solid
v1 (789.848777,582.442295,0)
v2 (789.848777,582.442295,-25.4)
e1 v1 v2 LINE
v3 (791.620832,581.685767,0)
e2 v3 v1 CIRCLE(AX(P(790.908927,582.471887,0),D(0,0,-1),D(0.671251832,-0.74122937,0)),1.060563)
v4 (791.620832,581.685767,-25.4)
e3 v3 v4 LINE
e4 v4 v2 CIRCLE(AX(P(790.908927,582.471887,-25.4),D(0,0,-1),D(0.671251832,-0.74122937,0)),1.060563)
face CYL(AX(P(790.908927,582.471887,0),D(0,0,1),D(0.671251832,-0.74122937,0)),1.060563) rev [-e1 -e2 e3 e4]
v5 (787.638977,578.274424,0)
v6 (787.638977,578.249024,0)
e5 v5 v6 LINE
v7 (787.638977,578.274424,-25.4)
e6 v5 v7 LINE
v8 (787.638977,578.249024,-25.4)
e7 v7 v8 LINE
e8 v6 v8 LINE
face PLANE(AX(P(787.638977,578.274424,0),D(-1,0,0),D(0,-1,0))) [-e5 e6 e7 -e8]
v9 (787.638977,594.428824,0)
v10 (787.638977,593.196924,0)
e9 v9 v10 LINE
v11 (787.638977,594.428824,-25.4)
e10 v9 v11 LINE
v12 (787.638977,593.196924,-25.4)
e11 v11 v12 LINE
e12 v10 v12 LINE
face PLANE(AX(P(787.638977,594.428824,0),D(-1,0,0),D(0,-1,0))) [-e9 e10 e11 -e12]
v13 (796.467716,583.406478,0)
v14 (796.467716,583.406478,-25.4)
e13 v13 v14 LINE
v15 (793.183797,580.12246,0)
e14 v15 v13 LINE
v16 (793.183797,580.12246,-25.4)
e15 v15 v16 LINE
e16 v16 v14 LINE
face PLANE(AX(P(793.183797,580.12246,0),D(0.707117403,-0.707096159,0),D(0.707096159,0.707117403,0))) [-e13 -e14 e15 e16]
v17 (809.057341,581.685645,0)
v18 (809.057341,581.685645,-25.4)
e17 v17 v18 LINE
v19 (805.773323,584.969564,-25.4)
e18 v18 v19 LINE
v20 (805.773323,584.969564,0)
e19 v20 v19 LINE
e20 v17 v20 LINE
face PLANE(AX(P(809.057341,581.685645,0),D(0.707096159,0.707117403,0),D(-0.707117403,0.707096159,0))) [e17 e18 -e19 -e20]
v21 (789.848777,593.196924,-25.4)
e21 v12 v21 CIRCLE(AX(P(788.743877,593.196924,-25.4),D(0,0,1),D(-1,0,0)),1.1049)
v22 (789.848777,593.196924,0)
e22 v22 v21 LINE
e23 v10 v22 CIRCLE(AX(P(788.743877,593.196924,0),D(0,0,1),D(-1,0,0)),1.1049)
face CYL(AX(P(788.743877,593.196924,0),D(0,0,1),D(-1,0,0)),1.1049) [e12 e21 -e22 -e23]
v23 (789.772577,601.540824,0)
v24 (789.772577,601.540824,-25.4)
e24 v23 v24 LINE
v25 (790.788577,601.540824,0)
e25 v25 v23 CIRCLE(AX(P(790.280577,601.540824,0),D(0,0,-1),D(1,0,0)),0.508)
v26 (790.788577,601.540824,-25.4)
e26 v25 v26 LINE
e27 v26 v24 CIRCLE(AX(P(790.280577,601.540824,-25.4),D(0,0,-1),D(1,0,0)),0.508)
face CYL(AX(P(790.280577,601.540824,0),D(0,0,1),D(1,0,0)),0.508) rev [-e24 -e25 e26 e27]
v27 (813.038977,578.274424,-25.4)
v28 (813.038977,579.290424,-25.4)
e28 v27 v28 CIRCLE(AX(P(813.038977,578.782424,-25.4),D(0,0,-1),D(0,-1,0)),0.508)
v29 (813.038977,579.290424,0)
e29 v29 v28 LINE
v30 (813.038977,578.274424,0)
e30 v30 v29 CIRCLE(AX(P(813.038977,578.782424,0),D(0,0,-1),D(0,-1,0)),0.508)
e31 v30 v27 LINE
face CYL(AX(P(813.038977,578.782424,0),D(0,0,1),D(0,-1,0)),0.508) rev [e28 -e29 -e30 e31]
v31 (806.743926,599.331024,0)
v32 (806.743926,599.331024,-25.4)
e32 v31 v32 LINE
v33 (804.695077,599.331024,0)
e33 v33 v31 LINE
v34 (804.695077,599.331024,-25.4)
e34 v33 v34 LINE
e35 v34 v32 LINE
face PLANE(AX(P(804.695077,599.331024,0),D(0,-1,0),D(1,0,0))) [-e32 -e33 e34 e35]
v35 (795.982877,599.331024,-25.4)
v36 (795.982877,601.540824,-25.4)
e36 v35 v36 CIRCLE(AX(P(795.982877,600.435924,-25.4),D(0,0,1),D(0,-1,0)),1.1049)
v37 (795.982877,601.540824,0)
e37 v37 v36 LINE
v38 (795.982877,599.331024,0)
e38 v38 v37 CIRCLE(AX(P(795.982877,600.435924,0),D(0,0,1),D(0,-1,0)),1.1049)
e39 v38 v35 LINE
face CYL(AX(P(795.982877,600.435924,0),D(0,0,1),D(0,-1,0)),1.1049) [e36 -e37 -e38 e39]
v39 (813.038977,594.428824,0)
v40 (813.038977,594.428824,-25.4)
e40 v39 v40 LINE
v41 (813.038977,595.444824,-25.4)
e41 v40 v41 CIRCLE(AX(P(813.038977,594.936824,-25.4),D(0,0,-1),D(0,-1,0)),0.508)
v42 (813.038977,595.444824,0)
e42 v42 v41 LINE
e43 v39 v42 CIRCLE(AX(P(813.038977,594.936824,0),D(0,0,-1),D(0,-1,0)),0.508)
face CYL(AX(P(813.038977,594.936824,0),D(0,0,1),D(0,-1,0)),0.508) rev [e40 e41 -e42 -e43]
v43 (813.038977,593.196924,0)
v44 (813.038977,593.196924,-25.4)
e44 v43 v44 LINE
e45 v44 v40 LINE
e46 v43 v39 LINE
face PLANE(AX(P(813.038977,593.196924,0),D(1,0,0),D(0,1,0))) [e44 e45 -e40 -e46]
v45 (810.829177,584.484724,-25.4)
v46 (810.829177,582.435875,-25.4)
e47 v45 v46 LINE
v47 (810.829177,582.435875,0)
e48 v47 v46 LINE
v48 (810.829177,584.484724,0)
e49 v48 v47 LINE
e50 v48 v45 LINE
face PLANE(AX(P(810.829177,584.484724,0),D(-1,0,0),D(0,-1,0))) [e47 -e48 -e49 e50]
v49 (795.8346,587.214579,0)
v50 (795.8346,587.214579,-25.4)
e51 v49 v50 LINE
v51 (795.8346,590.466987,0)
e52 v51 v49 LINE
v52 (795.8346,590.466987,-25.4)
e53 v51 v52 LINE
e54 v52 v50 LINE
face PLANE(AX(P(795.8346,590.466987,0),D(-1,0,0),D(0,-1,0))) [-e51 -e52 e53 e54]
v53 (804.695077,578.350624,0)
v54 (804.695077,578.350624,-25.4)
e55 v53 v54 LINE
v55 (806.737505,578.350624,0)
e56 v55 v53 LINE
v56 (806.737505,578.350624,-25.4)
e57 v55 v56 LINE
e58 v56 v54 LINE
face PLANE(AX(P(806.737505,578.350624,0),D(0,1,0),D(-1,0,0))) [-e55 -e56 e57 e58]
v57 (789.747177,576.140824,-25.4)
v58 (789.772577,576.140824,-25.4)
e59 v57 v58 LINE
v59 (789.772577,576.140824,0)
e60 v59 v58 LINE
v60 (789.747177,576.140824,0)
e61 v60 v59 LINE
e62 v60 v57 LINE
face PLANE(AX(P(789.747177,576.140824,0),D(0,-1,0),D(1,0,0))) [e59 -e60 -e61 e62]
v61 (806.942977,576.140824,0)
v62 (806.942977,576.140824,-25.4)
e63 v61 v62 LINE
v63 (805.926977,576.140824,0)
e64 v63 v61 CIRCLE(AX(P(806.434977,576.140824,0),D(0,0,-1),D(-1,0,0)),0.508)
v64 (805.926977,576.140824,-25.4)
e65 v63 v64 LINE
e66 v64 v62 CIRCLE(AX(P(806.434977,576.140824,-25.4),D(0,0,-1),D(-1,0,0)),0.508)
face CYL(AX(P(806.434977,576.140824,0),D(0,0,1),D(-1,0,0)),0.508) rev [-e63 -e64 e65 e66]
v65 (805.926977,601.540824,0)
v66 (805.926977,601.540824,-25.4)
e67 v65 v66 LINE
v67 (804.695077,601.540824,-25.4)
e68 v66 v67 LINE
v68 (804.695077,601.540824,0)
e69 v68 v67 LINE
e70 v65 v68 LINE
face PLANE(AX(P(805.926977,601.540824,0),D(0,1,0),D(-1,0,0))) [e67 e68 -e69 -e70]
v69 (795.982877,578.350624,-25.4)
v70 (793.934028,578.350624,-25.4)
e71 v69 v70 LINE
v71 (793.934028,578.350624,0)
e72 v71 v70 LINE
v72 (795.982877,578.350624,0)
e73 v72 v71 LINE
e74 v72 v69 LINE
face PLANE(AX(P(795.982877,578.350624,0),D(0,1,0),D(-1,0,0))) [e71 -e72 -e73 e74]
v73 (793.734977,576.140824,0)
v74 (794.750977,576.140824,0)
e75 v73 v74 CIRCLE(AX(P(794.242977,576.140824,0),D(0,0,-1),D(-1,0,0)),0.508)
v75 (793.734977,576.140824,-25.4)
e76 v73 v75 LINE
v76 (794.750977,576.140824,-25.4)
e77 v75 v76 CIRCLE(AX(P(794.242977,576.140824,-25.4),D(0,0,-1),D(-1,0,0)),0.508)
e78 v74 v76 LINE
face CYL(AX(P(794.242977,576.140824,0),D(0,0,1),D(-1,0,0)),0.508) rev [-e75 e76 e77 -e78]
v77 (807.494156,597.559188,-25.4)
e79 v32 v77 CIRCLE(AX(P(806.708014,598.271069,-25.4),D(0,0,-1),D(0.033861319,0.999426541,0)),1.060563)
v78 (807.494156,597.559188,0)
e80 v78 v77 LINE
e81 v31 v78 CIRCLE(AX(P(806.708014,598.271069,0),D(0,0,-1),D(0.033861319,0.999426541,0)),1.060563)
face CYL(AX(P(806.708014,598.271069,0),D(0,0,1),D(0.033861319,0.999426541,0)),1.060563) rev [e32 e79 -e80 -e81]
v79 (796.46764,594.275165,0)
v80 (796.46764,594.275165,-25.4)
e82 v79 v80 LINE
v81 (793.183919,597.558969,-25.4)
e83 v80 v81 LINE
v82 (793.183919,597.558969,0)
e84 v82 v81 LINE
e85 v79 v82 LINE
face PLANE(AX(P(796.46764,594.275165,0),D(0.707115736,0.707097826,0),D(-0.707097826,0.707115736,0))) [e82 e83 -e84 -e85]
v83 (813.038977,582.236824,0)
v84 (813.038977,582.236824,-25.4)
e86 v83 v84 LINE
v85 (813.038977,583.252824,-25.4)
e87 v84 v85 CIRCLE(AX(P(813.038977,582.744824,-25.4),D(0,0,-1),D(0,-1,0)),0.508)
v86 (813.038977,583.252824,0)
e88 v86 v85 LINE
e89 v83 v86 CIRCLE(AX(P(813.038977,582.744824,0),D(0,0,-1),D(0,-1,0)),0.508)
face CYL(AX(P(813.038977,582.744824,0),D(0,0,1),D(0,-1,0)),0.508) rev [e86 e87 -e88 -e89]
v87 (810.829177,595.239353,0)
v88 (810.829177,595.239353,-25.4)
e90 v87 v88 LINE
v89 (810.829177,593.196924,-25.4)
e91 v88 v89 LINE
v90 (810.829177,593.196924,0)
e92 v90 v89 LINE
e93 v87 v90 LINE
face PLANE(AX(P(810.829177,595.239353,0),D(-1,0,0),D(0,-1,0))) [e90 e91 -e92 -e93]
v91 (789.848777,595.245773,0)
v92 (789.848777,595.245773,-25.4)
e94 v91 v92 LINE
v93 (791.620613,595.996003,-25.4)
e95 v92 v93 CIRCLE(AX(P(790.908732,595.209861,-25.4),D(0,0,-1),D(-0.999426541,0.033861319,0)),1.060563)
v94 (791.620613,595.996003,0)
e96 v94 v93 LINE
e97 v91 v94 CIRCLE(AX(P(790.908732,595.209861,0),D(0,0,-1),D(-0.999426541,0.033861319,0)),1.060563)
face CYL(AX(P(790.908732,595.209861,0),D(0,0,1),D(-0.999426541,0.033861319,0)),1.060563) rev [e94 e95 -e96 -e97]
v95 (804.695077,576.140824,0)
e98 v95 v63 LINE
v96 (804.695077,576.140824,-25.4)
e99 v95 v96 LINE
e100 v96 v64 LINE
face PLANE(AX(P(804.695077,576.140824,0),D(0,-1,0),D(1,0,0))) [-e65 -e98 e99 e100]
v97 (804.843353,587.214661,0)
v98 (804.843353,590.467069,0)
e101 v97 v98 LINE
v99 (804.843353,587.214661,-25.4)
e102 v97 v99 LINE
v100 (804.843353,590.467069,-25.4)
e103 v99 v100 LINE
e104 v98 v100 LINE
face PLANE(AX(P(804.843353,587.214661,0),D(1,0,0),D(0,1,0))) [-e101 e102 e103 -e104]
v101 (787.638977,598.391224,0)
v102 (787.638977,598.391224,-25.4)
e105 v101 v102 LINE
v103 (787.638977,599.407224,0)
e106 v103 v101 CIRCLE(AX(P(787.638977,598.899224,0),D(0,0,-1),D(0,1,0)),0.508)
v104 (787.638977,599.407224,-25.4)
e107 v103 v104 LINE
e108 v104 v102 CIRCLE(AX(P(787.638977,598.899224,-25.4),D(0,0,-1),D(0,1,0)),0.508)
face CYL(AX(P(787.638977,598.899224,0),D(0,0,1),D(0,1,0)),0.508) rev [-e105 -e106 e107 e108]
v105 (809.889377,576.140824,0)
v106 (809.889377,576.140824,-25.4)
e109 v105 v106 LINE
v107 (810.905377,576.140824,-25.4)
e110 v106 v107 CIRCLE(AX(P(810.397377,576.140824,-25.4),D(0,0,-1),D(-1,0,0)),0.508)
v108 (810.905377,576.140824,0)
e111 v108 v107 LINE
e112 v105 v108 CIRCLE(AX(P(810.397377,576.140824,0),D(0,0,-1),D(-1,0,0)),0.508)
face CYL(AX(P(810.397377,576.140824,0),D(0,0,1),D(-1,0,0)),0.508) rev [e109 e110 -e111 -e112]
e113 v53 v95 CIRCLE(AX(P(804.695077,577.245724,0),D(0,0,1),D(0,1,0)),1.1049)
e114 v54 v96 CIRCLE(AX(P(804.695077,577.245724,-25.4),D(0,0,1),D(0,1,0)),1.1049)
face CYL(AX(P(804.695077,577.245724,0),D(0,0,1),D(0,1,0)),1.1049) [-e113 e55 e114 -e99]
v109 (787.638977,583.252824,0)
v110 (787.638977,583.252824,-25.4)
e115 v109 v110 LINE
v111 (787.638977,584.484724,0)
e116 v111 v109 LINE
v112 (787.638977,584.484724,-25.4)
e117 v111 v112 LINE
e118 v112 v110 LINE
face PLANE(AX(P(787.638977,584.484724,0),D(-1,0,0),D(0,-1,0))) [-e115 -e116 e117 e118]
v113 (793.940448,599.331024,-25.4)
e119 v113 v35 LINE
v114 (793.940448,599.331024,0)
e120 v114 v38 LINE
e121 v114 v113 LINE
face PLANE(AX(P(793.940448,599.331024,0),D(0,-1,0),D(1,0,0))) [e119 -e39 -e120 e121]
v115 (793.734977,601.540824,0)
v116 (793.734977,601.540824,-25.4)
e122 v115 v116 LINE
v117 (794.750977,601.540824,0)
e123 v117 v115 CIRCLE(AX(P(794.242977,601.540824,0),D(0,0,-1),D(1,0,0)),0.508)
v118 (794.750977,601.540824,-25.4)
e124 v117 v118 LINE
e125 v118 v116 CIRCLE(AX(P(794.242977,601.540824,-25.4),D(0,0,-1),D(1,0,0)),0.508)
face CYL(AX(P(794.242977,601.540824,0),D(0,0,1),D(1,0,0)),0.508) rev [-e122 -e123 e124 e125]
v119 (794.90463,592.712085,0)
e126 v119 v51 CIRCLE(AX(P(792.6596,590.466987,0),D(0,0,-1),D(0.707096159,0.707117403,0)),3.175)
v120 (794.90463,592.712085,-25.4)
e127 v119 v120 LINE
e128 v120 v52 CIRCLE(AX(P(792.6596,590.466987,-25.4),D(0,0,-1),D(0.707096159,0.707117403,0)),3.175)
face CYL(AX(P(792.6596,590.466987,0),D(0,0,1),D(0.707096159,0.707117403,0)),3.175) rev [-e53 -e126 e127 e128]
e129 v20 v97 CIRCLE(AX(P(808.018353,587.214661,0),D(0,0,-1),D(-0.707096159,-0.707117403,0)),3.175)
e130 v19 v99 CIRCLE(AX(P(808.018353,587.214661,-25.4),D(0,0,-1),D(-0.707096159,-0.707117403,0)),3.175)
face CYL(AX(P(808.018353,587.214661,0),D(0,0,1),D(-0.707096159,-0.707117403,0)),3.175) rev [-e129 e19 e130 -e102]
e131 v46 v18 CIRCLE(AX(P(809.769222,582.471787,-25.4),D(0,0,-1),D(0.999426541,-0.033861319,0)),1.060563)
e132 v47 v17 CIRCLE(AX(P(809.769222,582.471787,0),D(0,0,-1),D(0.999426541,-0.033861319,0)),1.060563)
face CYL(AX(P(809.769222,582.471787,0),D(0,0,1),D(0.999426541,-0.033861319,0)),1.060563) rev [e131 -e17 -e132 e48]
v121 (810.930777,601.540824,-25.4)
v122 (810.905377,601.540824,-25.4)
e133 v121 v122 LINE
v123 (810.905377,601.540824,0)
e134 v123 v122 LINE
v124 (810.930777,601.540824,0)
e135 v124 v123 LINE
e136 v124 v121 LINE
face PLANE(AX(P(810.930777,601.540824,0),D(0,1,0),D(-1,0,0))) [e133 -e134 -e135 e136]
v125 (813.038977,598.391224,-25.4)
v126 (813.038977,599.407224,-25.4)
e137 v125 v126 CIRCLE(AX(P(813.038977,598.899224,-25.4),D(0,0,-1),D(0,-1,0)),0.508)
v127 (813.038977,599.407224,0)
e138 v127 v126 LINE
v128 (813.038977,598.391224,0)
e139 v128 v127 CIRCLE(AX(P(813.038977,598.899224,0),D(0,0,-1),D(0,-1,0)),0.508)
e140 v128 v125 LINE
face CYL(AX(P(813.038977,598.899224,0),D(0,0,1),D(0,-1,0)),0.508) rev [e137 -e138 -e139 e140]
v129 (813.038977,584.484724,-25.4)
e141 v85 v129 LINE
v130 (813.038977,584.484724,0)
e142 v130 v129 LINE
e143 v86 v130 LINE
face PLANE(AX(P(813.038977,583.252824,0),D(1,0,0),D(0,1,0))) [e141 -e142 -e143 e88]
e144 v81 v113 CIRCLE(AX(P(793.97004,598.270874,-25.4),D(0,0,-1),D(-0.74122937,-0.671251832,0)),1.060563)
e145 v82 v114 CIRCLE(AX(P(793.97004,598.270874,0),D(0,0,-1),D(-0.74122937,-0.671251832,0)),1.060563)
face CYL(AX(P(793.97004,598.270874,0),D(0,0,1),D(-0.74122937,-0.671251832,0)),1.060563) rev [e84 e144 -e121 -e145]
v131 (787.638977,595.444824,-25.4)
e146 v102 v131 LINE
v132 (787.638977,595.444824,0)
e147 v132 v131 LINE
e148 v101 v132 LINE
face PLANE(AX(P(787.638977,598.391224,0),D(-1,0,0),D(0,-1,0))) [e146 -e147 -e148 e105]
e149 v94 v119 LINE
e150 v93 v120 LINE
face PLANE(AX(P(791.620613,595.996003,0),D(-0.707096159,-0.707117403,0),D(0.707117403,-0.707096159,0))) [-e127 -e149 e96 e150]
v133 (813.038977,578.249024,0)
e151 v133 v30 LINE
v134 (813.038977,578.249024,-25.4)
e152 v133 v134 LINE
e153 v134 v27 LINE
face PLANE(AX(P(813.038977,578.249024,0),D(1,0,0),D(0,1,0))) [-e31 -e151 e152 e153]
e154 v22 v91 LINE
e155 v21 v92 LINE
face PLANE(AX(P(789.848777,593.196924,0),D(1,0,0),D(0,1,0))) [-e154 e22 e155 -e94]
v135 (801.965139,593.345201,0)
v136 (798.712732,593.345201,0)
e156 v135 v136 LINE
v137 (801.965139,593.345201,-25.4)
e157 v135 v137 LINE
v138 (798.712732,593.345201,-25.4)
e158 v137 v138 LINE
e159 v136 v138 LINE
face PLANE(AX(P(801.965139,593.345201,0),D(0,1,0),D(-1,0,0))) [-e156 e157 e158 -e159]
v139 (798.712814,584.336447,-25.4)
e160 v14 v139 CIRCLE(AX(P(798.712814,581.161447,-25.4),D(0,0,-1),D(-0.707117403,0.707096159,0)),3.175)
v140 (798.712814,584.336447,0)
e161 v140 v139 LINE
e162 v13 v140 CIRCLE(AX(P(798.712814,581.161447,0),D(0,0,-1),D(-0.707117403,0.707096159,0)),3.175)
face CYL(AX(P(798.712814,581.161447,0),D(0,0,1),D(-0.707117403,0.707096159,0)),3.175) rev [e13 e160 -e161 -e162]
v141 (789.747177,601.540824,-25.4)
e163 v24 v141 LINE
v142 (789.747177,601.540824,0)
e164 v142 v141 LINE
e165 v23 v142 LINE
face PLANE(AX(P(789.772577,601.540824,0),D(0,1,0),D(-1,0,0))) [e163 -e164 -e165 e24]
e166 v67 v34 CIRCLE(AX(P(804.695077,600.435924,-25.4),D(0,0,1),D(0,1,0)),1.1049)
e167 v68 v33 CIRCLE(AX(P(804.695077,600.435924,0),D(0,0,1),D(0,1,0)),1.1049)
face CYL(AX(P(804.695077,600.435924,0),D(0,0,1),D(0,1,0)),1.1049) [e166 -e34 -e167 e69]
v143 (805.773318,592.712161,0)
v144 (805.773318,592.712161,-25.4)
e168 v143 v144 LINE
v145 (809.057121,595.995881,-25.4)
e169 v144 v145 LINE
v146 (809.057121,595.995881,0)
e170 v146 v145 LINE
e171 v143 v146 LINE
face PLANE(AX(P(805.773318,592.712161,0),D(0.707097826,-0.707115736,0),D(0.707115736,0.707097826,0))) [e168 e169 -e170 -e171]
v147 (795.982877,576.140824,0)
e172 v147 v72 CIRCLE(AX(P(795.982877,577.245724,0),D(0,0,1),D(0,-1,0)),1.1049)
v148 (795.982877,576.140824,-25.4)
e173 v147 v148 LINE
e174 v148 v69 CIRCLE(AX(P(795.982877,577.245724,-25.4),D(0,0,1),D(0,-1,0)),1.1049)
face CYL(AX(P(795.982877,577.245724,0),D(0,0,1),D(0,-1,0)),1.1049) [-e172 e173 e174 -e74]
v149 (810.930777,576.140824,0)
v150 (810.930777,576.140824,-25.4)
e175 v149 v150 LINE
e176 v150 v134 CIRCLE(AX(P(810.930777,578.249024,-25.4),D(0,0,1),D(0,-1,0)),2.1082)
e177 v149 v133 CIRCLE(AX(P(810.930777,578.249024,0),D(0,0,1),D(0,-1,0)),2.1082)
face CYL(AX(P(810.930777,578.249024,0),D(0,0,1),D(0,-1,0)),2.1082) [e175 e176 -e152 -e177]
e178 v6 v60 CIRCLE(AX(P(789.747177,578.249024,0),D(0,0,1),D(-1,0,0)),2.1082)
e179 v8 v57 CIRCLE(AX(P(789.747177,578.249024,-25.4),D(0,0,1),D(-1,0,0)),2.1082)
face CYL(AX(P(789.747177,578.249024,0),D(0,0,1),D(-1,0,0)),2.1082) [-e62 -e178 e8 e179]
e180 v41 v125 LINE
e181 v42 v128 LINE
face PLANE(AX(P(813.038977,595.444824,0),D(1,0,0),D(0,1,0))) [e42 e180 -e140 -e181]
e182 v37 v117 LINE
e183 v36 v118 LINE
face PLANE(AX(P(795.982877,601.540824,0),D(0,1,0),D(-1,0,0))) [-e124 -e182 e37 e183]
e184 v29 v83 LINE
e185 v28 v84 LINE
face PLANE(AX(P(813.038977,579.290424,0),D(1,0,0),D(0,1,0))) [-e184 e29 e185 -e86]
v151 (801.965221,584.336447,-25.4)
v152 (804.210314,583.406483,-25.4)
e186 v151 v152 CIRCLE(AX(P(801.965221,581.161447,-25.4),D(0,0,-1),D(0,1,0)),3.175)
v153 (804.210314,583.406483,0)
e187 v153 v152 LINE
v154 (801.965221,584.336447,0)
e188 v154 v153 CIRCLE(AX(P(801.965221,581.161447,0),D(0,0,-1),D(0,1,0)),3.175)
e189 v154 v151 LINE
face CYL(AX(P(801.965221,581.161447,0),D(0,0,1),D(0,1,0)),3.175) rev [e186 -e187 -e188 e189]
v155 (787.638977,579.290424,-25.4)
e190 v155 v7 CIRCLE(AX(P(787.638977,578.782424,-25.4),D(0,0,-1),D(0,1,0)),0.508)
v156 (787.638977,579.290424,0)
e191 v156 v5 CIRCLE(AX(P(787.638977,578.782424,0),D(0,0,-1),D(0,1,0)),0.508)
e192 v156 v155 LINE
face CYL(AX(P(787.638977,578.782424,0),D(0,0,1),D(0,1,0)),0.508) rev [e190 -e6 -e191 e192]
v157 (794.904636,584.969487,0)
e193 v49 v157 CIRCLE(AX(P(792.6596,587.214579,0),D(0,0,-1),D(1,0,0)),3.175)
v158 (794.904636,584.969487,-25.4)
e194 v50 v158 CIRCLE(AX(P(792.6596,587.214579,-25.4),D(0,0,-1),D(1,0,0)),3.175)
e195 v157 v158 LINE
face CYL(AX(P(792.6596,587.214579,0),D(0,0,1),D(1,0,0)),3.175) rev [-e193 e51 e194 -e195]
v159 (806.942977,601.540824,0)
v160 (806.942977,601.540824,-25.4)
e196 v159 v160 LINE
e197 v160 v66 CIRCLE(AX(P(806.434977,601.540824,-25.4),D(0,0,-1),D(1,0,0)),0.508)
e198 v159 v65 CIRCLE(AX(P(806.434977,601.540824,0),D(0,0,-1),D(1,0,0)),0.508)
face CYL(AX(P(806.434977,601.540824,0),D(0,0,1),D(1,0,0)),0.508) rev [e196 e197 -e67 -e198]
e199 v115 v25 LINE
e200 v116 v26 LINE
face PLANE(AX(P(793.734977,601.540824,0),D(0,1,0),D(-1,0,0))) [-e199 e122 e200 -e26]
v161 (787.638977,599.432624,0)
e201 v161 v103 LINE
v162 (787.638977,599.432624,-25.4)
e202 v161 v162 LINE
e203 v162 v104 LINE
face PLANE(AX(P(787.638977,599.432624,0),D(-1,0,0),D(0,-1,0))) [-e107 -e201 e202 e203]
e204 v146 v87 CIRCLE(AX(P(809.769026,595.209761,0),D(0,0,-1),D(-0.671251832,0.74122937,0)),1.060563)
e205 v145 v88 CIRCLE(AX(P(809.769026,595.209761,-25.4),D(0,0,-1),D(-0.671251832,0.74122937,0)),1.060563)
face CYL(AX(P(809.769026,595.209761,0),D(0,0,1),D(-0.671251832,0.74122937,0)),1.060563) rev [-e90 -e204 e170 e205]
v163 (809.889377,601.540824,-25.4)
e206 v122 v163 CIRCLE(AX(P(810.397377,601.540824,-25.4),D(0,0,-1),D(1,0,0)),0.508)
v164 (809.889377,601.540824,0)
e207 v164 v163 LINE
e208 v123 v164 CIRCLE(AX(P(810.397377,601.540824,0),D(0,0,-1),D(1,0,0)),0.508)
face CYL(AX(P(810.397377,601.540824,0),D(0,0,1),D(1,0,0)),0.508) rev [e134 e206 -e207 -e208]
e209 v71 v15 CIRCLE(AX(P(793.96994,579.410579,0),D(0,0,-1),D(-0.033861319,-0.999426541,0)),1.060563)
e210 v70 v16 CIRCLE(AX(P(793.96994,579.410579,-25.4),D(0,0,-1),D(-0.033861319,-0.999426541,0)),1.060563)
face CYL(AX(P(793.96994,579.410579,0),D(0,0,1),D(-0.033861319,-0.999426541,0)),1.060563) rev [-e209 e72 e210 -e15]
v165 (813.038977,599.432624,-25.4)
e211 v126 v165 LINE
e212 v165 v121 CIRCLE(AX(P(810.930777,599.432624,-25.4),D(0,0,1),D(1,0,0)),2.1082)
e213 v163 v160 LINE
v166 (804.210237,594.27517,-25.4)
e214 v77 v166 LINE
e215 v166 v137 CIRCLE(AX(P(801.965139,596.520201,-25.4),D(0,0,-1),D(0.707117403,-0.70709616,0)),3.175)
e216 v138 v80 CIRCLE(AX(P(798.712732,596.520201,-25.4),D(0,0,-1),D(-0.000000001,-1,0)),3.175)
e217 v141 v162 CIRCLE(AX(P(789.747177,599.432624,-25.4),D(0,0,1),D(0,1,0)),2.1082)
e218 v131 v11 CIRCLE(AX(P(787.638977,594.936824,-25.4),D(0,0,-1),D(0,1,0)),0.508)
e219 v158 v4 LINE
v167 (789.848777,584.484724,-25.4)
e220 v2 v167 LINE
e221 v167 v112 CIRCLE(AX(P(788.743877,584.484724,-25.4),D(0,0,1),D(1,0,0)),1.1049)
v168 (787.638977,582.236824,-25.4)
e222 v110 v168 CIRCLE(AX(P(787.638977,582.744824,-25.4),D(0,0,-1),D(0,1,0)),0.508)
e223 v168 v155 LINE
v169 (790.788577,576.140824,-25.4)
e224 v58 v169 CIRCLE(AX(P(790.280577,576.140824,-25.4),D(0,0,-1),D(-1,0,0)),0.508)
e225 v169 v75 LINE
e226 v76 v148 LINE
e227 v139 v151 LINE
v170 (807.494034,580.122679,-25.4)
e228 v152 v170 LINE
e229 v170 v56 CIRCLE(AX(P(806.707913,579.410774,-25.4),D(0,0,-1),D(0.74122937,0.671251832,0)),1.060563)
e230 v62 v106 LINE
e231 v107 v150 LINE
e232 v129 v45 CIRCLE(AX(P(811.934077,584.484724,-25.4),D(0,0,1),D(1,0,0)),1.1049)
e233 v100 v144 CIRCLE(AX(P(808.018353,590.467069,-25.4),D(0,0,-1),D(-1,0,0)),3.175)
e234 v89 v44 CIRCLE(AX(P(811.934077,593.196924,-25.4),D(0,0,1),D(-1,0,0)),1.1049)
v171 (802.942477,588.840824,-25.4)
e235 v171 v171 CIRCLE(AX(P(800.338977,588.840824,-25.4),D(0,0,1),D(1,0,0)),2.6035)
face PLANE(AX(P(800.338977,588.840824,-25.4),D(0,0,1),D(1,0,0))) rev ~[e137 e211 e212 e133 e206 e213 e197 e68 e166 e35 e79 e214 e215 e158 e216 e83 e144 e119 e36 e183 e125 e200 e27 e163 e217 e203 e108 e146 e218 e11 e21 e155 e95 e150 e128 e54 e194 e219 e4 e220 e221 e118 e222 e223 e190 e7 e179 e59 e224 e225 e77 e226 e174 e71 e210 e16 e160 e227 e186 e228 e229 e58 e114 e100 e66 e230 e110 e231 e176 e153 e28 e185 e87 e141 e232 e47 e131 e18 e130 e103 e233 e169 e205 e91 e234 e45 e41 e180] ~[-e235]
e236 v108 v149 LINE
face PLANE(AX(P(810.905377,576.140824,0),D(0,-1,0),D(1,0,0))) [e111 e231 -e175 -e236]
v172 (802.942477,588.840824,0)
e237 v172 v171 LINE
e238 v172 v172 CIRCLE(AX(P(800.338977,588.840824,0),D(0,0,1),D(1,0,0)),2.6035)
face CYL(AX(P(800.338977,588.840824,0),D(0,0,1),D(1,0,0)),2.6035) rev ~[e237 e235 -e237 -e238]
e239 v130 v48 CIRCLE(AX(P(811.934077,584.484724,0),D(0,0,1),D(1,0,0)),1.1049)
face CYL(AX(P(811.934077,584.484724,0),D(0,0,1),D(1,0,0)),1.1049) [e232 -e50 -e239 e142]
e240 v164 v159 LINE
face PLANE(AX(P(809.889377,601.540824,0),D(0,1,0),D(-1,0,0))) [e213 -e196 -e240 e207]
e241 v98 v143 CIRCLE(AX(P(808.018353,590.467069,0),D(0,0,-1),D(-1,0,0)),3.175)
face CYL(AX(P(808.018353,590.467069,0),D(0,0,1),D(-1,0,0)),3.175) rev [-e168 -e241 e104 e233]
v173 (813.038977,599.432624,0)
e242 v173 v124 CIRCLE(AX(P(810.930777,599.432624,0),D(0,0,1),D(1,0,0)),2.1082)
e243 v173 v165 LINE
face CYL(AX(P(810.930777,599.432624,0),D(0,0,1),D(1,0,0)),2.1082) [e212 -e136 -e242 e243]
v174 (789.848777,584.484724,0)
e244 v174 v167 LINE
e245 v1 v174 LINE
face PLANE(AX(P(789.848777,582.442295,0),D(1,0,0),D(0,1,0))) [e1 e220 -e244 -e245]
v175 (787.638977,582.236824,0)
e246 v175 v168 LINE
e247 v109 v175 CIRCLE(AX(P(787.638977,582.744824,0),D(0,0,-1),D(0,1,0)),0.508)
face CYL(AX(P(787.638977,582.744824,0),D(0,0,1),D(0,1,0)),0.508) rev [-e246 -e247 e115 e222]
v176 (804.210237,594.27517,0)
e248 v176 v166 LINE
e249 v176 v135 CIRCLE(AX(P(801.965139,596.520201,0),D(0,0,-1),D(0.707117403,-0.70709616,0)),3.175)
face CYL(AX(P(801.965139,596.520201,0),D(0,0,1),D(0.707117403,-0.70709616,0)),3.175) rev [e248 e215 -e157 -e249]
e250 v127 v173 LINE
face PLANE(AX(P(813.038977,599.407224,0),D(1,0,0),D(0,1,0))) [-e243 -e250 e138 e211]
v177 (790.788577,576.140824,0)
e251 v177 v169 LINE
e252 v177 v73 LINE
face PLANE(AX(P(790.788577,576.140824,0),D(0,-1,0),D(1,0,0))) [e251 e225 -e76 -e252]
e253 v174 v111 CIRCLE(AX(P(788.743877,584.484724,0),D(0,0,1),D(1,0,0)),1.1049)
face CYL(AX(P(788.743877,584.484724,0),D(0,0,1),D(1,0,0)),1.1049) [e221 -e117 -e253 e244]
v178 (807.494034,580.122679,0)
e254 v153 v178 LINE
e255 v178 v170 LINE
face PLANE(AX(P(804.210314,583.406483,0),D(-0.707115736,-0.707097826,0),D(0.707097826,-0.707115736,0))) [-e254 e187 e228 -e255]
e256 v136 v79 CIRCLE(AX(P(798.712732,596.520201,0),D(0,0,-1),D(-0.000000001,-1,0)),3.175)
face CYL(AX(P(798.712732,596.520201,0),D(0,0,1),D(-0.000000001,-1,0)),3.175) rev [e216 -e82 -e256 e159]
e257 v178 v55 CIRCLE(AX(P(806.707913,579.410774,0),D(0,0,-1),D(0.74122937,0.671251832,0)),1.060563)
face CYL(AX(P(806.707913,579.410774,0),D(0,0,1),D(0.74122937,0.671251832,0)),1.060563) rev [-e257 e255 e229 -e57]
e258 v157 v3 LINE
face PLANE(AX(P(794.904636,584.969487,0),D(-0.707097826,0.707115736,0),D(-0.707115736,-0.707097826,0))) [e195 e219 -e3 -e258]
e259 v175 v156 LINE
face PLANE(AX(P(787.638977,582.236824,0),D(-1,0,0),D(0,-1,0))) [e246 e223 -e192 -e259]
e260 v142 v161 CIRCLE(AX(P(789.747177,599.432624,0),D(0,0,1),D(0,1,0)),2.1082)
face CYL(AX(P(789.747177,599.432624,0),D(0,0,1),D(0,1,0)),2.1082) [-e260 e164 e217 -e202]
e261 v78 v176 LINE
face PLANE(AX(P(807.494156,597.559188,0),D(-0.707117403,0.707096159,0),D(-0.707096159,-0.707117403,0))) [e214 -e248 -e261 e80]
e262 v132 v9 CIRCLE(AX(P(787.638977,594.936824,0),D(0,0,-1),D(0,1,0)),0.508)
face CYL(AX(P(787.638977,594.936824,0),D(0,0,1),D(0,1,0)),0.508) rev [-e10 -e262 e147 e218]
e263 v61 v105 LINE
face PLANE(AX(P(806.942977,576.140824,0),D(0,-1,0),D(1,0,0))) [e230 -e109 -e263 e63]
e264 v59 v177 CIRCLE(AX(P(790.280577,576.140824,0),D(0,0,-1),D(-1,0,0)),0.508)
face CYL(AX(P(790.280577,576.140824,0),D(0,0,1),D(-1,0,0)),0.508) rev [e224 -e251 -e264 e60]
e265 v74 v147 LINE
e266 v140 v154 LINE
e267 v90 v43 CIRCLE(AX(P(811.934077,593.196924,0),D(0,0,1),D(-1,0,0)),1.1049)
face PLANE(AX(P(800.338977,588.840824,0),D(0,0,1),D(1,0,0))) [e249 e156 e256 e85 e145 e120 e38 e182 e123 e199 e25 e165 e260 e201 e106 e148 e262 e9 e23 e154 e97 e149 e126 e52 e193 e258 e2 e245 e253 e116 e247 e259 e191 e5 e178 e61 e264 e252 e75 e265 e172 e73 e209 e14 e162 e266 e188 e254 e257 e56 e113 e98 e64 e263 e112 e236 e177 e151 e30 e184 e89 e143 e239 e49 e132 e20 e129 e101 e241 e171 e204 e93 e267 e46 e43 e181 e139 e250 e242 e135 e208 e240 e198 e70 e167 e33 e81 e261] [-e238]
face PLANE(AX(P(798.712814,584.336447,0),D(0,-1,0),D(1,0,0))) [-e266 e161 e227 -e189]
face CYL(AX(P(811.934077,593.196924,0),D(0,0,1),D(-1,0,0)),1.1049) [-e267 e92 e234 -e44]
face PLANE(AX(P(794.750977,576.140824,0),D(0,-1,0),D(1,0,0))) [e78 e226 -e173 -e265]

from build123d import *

# Parameters (mm, degrees)
SKETCH1_R      = 2.6035
EXTRUDE1_DEPTH = 25.4


with BuildPart() as part:
    # Sketch1 → Extrude1 (new body)
    with BuildSketch(Plane.XY):
        with BuildLine():
            Line((813.038976674, 579.290424026), (813.038976674, 582.236824026))
            ThreePointArc((813.038976674, 582.236824026), (812.530976674, 582.744824026), (813.038976674, 583.252824026))
            Line((813.038976674, 583.252824026), (813.038976674, 584.484724026))
            ThreePointArc((813.038976674, 584.484724026), (811.934076674, 585.589624026), (810.829176674, 584.484724026))
            Line((810.829176674, 584.484724026), (810.829176674, 582.435874947))
            ThreePointArc((810.829176674, 582.435874947), (810.182743454, 581.495163196), (809.057340701, 581.685644565))
            Line((809.057340701, 581.685644565), (805.773323088, 584.969563516))
            ThreePointArc((805.773323088, 584.969563516), (805.085045004, 585.999619341), (804.843353394, 587.214661271))
            Line((804.843353394, 587.214661271), (804.843353394, 590.467068589))
            ThreePointArc((804.843353394, 590.467068589), (805.085043572, 591.682107061), (805.773317796, 592.712161052))
            Line((805.773317796, 592.712161052), (809.057121325, 595.995881407))
            ThreePointArc((809.057121325, 595.995881407), (810.18544278, 596.185153907), (810.829176674, 595.239352628))
            Line((810.829176674, 595.239352628), (810.829176674, 593.196924026))
            ThreePointArc((810.829176674, 593.196924026), (811.934076674, 592.092024026), (813.038976674, 593.196924026))
            Line((813.038976674, 593.196924026), (813.038976674, 594.428824026))
            ThreePointArc((813.038976674, 594.428824026), (812.530976674, 594.936824026), (813.038976674, 595.444824026))
            Line((813.038976674, 595.444824026), (813.038976674, 598.391224026))
            ThreePointArc((813.038976674, 598.391224026), (812.530976674, 598.899224026), (813.038976674, 599.407224026))
            Line((813.038976674, 599.407224026), (813.038976674, 599.432624026))
            ThreePointArc((813.038976674, 599.432624026), (812.42149919, 600.923346542), (810.930776674, 601.540824026))
            Line((810.930776674, 601.540824026), (810.905376674, 601.540824026))
            ThreePointArc((810.905376674, 601.540824026), (810.397376674, 601.032824026), (809.889376674, 601.540824026))
            Line((809.889376674, 601.540824026), (806.942976674, 601.540824026))
            ThreePointArc((806.942976674, 601.540824026), (806.434976674, 601.032824026), (805.926976674, 601.540824026))
            Line((805.926976674, 601.540824026), (804.695076674, 601.540824026))
            ThreePointArc((804.695076674, 601.540824026), (803.590176674, 600.435924026), (804.695076674, 599.331024026))
            Line((804.695076674, 599.331024026), (806.743925753, 599.331024026))
            ThreePointArc((806.743925753, 599.331024026), (807.684637504, 598.684590806), (807.494156135, 597.559188053))
            Line((807.494156135, 597.559188053), (804.210237184, 594.27517044))
            ThreePointArc((804.210237184, 594.27517044), (803.180181359, 593.586892356), (801.965139429, 593.345200745))
            Line((801.965139429, 593.345200745), (798.712732111, 593.345200745))
            ThreePointArc((798.712732111, 593.345200745), (797.497693639, 593.586890924), (796.467639648, 594.275165148))
            Line((796.467639648, 594.275165148), (793.183919293, 597.558968677))
            ThreePointArc((793.183919293, 597.558968677), (792.994646793, 598.687290132), (793.940448072, 599.331024026))
            Line((793.940448072, 599.331024026), (795.982876674, 599.331024026))
            ThreePointArc((795.982876674, 599.331024026), (797.087776674, 600.435924026), (795.982876674, 601.540824026))
            Line((795.982876674, 601.540824026), (794.750976674, 601.540824026))
            ThreePointArc((794.750976674, 601.540824026), (794.242976674, 601.032824026), (793.734976674, 601.540824026))
            Line((793.734976674, 601.540824026), (790.788576674, 601.540824026))
            ThreePointArc((790.788576674, 601.540824026), (790.280576674, 601.032824026), (789.772576674, 601.540824026))
            Line((789.772576674, 601.540824026), (789.747176674, 601.540824026))
            ThreePointArc((789.747176674, 601.540824026), (788.256454158, 600.923346542), (787.638976674, 599.432624026))
            Line((787.638976674, 599.432624026), (787.638976674, 599.407224026))
            ThreePointArc((787.638976674, 599.407224026), (788.146976674, 598.899224026), (787.638976674, 598.391224026))
            Line((787.638976674, 598.391224026), (787.638976674, 595.444824026))
            ThreePointArc((787.638976674, 595.444824026), (788.146976674, 594.936824026), (787.638976674, 594.428824026))
            Line((787.638976674, 594.428824026), (787.638976674, 593.196924026))
            ThreePointArc((787.638976674, 593.196924026), (788.743876674, 592.092024026), (789.848776674, 593.196924026))
            Line((789.848776674, 593.196924026), (789.848776674, 595.245773105))
            ThreePointArc((789.848776674, 595.245773105), (790.495209894, 596.186484856), (791.620612647, 595.996003487))
            Line((791.620612647, 595.996003487), (794.90463026, 592.712084536))
            ThreePointArc((794.90463026, 592.712084536), (795.592908344, 591.682028711), (795.834599954, 590.466986781))
            Line((795.834599954, 590.466986781), (795.834599954, 587.214579463))
            ThreePointArc((795.834599954, 587.214579463), (795.592909776, 585.999540991), (794.904635552, 584.969487))
            Line((794.904635552, 584.969487), (791.620832022, 581.685766645))
            ThreePointArc((791.620832022, 581.685766645), (790.492510568, 581.496494145), (789.848776674, 582.442295424))
            Line((789.848776674, 582.442295424), (789.848776674, 584.484724026))
            ThreePointArc((789.848776674, 584.484724026), (788.743876674, 585.589624026), (787.638976674, 584.484724026))
            Line((787.638976674, 584.484724026), (787.638976674, 583.252824026))
            ThreePointArc((787.638976674, 583.252824026), (788.146976674, 582.744824026), (787.638976674, 582.236824026))
            Line((787.638976674, 582.236824026), (787.638976674, 579.290424026))
            ThreePointArc((787.638976674, 579.290424026), (788.146976674, 578.782424026), (787.638976674, 578.274424026))
            Line((787.638976674, 578.274424026), (787.638976674, 578.249024026))
            ThreePointArc((787.638976674, 578.249024026), (788.256454158, 576.75830151), (789.747176674, 576.140824026))
            Line((789.747176674, 576.140824026), (789.772576674, 576.140824026))
            ThreePointArc((789.772576674, 576.140824026), (790.280576674, 576.648824026), (790.788576674, 576.140824026))
            Line((790.788576674, 576.140824026), (793.734976674, 576.140824026))
            ThreePointArc((793.734976674, 576.140824026), (794.242976674, 576.648824026), (794.750976674, 576.140824026))
            Line((794.750976674, 576.140824026), (795.982876674, 576.140824026))
            ThreePointArc((795.982876674, 576.140824026), (797.087776674, 577.245724026), (795.982876674, 578.350624026))
            Line((795.982876674, 578.350624026), (793.934027595, 578.350624026))
            ThreePointArc((793.934027595, 578.350624026), (792.993315844, 578.997057246), (793.183797213, 580.122459999))
            Line((793.183797213, 580.122459999), (796.467716164, 583.406477612))
            ThreePointArc((796.467716164, 583.406477612), (797.497771989, 584.094755696), (798.712813919, 584.336447306))
            Line((798.712813919, 584.336447306), (801.965221237, 584.336447306))
            ThreePointArc((801.965221237, 584.336447306), (803.180259709, 584.094757128), (804.2103137, 583.406482904))
            Line((804.2103137, 583.406482904), (807.494034055, 580.122679374))
            ThreePointArc((807.494034055, 580.122679374), (807.683306555, 578.99435792), (806.737505276, 578.350624026))
            Line((806.737505276, 578.350624026), (804.695076674, 578.350624026))
            ThreePointArc((804.695076674, 578.350624026), (803.590176674, 577.245724026), (804.695076674, 576.140824026))
            Line((804.695076674, 576.140824026), (805.926976674, 576.140824026))
            ThreePointArc((805.926976674, 576.140824026), (806.434976674, 576.648824026), (806.942976674, 576.140824026))
            Line((806.942976674, 576.140824026), (809.889376674, 576.140824026))
            ThreePointArc((809.889376674, 576.140824026), (810.397376674, 576.648824026), (810.905376674, 576.140824026))
            Line((810.905376674, 576.140824026), (810.930776674, 576.140824026))
            ThreePointArc((810.930776674, 576.140824026), (812.42149919, 576.75830151), (813.038976674, 578.249024026))
            Line((813.038976674, 578.249024026), (813.038976674, 578.274424026))
            ThreePointArc((813.038976674, 578.274424026), (812.530976674, 578.782424026), (813.038976674, 579.290424026))
        make_face()
        with Locations((800.338976674, 588.840824026)):
            Circle(SKETCH1_R, mode=Mode.SUBTRACT)
    extrude(amount=-EXTRUDE1_DEPTH)


solid = part.part
